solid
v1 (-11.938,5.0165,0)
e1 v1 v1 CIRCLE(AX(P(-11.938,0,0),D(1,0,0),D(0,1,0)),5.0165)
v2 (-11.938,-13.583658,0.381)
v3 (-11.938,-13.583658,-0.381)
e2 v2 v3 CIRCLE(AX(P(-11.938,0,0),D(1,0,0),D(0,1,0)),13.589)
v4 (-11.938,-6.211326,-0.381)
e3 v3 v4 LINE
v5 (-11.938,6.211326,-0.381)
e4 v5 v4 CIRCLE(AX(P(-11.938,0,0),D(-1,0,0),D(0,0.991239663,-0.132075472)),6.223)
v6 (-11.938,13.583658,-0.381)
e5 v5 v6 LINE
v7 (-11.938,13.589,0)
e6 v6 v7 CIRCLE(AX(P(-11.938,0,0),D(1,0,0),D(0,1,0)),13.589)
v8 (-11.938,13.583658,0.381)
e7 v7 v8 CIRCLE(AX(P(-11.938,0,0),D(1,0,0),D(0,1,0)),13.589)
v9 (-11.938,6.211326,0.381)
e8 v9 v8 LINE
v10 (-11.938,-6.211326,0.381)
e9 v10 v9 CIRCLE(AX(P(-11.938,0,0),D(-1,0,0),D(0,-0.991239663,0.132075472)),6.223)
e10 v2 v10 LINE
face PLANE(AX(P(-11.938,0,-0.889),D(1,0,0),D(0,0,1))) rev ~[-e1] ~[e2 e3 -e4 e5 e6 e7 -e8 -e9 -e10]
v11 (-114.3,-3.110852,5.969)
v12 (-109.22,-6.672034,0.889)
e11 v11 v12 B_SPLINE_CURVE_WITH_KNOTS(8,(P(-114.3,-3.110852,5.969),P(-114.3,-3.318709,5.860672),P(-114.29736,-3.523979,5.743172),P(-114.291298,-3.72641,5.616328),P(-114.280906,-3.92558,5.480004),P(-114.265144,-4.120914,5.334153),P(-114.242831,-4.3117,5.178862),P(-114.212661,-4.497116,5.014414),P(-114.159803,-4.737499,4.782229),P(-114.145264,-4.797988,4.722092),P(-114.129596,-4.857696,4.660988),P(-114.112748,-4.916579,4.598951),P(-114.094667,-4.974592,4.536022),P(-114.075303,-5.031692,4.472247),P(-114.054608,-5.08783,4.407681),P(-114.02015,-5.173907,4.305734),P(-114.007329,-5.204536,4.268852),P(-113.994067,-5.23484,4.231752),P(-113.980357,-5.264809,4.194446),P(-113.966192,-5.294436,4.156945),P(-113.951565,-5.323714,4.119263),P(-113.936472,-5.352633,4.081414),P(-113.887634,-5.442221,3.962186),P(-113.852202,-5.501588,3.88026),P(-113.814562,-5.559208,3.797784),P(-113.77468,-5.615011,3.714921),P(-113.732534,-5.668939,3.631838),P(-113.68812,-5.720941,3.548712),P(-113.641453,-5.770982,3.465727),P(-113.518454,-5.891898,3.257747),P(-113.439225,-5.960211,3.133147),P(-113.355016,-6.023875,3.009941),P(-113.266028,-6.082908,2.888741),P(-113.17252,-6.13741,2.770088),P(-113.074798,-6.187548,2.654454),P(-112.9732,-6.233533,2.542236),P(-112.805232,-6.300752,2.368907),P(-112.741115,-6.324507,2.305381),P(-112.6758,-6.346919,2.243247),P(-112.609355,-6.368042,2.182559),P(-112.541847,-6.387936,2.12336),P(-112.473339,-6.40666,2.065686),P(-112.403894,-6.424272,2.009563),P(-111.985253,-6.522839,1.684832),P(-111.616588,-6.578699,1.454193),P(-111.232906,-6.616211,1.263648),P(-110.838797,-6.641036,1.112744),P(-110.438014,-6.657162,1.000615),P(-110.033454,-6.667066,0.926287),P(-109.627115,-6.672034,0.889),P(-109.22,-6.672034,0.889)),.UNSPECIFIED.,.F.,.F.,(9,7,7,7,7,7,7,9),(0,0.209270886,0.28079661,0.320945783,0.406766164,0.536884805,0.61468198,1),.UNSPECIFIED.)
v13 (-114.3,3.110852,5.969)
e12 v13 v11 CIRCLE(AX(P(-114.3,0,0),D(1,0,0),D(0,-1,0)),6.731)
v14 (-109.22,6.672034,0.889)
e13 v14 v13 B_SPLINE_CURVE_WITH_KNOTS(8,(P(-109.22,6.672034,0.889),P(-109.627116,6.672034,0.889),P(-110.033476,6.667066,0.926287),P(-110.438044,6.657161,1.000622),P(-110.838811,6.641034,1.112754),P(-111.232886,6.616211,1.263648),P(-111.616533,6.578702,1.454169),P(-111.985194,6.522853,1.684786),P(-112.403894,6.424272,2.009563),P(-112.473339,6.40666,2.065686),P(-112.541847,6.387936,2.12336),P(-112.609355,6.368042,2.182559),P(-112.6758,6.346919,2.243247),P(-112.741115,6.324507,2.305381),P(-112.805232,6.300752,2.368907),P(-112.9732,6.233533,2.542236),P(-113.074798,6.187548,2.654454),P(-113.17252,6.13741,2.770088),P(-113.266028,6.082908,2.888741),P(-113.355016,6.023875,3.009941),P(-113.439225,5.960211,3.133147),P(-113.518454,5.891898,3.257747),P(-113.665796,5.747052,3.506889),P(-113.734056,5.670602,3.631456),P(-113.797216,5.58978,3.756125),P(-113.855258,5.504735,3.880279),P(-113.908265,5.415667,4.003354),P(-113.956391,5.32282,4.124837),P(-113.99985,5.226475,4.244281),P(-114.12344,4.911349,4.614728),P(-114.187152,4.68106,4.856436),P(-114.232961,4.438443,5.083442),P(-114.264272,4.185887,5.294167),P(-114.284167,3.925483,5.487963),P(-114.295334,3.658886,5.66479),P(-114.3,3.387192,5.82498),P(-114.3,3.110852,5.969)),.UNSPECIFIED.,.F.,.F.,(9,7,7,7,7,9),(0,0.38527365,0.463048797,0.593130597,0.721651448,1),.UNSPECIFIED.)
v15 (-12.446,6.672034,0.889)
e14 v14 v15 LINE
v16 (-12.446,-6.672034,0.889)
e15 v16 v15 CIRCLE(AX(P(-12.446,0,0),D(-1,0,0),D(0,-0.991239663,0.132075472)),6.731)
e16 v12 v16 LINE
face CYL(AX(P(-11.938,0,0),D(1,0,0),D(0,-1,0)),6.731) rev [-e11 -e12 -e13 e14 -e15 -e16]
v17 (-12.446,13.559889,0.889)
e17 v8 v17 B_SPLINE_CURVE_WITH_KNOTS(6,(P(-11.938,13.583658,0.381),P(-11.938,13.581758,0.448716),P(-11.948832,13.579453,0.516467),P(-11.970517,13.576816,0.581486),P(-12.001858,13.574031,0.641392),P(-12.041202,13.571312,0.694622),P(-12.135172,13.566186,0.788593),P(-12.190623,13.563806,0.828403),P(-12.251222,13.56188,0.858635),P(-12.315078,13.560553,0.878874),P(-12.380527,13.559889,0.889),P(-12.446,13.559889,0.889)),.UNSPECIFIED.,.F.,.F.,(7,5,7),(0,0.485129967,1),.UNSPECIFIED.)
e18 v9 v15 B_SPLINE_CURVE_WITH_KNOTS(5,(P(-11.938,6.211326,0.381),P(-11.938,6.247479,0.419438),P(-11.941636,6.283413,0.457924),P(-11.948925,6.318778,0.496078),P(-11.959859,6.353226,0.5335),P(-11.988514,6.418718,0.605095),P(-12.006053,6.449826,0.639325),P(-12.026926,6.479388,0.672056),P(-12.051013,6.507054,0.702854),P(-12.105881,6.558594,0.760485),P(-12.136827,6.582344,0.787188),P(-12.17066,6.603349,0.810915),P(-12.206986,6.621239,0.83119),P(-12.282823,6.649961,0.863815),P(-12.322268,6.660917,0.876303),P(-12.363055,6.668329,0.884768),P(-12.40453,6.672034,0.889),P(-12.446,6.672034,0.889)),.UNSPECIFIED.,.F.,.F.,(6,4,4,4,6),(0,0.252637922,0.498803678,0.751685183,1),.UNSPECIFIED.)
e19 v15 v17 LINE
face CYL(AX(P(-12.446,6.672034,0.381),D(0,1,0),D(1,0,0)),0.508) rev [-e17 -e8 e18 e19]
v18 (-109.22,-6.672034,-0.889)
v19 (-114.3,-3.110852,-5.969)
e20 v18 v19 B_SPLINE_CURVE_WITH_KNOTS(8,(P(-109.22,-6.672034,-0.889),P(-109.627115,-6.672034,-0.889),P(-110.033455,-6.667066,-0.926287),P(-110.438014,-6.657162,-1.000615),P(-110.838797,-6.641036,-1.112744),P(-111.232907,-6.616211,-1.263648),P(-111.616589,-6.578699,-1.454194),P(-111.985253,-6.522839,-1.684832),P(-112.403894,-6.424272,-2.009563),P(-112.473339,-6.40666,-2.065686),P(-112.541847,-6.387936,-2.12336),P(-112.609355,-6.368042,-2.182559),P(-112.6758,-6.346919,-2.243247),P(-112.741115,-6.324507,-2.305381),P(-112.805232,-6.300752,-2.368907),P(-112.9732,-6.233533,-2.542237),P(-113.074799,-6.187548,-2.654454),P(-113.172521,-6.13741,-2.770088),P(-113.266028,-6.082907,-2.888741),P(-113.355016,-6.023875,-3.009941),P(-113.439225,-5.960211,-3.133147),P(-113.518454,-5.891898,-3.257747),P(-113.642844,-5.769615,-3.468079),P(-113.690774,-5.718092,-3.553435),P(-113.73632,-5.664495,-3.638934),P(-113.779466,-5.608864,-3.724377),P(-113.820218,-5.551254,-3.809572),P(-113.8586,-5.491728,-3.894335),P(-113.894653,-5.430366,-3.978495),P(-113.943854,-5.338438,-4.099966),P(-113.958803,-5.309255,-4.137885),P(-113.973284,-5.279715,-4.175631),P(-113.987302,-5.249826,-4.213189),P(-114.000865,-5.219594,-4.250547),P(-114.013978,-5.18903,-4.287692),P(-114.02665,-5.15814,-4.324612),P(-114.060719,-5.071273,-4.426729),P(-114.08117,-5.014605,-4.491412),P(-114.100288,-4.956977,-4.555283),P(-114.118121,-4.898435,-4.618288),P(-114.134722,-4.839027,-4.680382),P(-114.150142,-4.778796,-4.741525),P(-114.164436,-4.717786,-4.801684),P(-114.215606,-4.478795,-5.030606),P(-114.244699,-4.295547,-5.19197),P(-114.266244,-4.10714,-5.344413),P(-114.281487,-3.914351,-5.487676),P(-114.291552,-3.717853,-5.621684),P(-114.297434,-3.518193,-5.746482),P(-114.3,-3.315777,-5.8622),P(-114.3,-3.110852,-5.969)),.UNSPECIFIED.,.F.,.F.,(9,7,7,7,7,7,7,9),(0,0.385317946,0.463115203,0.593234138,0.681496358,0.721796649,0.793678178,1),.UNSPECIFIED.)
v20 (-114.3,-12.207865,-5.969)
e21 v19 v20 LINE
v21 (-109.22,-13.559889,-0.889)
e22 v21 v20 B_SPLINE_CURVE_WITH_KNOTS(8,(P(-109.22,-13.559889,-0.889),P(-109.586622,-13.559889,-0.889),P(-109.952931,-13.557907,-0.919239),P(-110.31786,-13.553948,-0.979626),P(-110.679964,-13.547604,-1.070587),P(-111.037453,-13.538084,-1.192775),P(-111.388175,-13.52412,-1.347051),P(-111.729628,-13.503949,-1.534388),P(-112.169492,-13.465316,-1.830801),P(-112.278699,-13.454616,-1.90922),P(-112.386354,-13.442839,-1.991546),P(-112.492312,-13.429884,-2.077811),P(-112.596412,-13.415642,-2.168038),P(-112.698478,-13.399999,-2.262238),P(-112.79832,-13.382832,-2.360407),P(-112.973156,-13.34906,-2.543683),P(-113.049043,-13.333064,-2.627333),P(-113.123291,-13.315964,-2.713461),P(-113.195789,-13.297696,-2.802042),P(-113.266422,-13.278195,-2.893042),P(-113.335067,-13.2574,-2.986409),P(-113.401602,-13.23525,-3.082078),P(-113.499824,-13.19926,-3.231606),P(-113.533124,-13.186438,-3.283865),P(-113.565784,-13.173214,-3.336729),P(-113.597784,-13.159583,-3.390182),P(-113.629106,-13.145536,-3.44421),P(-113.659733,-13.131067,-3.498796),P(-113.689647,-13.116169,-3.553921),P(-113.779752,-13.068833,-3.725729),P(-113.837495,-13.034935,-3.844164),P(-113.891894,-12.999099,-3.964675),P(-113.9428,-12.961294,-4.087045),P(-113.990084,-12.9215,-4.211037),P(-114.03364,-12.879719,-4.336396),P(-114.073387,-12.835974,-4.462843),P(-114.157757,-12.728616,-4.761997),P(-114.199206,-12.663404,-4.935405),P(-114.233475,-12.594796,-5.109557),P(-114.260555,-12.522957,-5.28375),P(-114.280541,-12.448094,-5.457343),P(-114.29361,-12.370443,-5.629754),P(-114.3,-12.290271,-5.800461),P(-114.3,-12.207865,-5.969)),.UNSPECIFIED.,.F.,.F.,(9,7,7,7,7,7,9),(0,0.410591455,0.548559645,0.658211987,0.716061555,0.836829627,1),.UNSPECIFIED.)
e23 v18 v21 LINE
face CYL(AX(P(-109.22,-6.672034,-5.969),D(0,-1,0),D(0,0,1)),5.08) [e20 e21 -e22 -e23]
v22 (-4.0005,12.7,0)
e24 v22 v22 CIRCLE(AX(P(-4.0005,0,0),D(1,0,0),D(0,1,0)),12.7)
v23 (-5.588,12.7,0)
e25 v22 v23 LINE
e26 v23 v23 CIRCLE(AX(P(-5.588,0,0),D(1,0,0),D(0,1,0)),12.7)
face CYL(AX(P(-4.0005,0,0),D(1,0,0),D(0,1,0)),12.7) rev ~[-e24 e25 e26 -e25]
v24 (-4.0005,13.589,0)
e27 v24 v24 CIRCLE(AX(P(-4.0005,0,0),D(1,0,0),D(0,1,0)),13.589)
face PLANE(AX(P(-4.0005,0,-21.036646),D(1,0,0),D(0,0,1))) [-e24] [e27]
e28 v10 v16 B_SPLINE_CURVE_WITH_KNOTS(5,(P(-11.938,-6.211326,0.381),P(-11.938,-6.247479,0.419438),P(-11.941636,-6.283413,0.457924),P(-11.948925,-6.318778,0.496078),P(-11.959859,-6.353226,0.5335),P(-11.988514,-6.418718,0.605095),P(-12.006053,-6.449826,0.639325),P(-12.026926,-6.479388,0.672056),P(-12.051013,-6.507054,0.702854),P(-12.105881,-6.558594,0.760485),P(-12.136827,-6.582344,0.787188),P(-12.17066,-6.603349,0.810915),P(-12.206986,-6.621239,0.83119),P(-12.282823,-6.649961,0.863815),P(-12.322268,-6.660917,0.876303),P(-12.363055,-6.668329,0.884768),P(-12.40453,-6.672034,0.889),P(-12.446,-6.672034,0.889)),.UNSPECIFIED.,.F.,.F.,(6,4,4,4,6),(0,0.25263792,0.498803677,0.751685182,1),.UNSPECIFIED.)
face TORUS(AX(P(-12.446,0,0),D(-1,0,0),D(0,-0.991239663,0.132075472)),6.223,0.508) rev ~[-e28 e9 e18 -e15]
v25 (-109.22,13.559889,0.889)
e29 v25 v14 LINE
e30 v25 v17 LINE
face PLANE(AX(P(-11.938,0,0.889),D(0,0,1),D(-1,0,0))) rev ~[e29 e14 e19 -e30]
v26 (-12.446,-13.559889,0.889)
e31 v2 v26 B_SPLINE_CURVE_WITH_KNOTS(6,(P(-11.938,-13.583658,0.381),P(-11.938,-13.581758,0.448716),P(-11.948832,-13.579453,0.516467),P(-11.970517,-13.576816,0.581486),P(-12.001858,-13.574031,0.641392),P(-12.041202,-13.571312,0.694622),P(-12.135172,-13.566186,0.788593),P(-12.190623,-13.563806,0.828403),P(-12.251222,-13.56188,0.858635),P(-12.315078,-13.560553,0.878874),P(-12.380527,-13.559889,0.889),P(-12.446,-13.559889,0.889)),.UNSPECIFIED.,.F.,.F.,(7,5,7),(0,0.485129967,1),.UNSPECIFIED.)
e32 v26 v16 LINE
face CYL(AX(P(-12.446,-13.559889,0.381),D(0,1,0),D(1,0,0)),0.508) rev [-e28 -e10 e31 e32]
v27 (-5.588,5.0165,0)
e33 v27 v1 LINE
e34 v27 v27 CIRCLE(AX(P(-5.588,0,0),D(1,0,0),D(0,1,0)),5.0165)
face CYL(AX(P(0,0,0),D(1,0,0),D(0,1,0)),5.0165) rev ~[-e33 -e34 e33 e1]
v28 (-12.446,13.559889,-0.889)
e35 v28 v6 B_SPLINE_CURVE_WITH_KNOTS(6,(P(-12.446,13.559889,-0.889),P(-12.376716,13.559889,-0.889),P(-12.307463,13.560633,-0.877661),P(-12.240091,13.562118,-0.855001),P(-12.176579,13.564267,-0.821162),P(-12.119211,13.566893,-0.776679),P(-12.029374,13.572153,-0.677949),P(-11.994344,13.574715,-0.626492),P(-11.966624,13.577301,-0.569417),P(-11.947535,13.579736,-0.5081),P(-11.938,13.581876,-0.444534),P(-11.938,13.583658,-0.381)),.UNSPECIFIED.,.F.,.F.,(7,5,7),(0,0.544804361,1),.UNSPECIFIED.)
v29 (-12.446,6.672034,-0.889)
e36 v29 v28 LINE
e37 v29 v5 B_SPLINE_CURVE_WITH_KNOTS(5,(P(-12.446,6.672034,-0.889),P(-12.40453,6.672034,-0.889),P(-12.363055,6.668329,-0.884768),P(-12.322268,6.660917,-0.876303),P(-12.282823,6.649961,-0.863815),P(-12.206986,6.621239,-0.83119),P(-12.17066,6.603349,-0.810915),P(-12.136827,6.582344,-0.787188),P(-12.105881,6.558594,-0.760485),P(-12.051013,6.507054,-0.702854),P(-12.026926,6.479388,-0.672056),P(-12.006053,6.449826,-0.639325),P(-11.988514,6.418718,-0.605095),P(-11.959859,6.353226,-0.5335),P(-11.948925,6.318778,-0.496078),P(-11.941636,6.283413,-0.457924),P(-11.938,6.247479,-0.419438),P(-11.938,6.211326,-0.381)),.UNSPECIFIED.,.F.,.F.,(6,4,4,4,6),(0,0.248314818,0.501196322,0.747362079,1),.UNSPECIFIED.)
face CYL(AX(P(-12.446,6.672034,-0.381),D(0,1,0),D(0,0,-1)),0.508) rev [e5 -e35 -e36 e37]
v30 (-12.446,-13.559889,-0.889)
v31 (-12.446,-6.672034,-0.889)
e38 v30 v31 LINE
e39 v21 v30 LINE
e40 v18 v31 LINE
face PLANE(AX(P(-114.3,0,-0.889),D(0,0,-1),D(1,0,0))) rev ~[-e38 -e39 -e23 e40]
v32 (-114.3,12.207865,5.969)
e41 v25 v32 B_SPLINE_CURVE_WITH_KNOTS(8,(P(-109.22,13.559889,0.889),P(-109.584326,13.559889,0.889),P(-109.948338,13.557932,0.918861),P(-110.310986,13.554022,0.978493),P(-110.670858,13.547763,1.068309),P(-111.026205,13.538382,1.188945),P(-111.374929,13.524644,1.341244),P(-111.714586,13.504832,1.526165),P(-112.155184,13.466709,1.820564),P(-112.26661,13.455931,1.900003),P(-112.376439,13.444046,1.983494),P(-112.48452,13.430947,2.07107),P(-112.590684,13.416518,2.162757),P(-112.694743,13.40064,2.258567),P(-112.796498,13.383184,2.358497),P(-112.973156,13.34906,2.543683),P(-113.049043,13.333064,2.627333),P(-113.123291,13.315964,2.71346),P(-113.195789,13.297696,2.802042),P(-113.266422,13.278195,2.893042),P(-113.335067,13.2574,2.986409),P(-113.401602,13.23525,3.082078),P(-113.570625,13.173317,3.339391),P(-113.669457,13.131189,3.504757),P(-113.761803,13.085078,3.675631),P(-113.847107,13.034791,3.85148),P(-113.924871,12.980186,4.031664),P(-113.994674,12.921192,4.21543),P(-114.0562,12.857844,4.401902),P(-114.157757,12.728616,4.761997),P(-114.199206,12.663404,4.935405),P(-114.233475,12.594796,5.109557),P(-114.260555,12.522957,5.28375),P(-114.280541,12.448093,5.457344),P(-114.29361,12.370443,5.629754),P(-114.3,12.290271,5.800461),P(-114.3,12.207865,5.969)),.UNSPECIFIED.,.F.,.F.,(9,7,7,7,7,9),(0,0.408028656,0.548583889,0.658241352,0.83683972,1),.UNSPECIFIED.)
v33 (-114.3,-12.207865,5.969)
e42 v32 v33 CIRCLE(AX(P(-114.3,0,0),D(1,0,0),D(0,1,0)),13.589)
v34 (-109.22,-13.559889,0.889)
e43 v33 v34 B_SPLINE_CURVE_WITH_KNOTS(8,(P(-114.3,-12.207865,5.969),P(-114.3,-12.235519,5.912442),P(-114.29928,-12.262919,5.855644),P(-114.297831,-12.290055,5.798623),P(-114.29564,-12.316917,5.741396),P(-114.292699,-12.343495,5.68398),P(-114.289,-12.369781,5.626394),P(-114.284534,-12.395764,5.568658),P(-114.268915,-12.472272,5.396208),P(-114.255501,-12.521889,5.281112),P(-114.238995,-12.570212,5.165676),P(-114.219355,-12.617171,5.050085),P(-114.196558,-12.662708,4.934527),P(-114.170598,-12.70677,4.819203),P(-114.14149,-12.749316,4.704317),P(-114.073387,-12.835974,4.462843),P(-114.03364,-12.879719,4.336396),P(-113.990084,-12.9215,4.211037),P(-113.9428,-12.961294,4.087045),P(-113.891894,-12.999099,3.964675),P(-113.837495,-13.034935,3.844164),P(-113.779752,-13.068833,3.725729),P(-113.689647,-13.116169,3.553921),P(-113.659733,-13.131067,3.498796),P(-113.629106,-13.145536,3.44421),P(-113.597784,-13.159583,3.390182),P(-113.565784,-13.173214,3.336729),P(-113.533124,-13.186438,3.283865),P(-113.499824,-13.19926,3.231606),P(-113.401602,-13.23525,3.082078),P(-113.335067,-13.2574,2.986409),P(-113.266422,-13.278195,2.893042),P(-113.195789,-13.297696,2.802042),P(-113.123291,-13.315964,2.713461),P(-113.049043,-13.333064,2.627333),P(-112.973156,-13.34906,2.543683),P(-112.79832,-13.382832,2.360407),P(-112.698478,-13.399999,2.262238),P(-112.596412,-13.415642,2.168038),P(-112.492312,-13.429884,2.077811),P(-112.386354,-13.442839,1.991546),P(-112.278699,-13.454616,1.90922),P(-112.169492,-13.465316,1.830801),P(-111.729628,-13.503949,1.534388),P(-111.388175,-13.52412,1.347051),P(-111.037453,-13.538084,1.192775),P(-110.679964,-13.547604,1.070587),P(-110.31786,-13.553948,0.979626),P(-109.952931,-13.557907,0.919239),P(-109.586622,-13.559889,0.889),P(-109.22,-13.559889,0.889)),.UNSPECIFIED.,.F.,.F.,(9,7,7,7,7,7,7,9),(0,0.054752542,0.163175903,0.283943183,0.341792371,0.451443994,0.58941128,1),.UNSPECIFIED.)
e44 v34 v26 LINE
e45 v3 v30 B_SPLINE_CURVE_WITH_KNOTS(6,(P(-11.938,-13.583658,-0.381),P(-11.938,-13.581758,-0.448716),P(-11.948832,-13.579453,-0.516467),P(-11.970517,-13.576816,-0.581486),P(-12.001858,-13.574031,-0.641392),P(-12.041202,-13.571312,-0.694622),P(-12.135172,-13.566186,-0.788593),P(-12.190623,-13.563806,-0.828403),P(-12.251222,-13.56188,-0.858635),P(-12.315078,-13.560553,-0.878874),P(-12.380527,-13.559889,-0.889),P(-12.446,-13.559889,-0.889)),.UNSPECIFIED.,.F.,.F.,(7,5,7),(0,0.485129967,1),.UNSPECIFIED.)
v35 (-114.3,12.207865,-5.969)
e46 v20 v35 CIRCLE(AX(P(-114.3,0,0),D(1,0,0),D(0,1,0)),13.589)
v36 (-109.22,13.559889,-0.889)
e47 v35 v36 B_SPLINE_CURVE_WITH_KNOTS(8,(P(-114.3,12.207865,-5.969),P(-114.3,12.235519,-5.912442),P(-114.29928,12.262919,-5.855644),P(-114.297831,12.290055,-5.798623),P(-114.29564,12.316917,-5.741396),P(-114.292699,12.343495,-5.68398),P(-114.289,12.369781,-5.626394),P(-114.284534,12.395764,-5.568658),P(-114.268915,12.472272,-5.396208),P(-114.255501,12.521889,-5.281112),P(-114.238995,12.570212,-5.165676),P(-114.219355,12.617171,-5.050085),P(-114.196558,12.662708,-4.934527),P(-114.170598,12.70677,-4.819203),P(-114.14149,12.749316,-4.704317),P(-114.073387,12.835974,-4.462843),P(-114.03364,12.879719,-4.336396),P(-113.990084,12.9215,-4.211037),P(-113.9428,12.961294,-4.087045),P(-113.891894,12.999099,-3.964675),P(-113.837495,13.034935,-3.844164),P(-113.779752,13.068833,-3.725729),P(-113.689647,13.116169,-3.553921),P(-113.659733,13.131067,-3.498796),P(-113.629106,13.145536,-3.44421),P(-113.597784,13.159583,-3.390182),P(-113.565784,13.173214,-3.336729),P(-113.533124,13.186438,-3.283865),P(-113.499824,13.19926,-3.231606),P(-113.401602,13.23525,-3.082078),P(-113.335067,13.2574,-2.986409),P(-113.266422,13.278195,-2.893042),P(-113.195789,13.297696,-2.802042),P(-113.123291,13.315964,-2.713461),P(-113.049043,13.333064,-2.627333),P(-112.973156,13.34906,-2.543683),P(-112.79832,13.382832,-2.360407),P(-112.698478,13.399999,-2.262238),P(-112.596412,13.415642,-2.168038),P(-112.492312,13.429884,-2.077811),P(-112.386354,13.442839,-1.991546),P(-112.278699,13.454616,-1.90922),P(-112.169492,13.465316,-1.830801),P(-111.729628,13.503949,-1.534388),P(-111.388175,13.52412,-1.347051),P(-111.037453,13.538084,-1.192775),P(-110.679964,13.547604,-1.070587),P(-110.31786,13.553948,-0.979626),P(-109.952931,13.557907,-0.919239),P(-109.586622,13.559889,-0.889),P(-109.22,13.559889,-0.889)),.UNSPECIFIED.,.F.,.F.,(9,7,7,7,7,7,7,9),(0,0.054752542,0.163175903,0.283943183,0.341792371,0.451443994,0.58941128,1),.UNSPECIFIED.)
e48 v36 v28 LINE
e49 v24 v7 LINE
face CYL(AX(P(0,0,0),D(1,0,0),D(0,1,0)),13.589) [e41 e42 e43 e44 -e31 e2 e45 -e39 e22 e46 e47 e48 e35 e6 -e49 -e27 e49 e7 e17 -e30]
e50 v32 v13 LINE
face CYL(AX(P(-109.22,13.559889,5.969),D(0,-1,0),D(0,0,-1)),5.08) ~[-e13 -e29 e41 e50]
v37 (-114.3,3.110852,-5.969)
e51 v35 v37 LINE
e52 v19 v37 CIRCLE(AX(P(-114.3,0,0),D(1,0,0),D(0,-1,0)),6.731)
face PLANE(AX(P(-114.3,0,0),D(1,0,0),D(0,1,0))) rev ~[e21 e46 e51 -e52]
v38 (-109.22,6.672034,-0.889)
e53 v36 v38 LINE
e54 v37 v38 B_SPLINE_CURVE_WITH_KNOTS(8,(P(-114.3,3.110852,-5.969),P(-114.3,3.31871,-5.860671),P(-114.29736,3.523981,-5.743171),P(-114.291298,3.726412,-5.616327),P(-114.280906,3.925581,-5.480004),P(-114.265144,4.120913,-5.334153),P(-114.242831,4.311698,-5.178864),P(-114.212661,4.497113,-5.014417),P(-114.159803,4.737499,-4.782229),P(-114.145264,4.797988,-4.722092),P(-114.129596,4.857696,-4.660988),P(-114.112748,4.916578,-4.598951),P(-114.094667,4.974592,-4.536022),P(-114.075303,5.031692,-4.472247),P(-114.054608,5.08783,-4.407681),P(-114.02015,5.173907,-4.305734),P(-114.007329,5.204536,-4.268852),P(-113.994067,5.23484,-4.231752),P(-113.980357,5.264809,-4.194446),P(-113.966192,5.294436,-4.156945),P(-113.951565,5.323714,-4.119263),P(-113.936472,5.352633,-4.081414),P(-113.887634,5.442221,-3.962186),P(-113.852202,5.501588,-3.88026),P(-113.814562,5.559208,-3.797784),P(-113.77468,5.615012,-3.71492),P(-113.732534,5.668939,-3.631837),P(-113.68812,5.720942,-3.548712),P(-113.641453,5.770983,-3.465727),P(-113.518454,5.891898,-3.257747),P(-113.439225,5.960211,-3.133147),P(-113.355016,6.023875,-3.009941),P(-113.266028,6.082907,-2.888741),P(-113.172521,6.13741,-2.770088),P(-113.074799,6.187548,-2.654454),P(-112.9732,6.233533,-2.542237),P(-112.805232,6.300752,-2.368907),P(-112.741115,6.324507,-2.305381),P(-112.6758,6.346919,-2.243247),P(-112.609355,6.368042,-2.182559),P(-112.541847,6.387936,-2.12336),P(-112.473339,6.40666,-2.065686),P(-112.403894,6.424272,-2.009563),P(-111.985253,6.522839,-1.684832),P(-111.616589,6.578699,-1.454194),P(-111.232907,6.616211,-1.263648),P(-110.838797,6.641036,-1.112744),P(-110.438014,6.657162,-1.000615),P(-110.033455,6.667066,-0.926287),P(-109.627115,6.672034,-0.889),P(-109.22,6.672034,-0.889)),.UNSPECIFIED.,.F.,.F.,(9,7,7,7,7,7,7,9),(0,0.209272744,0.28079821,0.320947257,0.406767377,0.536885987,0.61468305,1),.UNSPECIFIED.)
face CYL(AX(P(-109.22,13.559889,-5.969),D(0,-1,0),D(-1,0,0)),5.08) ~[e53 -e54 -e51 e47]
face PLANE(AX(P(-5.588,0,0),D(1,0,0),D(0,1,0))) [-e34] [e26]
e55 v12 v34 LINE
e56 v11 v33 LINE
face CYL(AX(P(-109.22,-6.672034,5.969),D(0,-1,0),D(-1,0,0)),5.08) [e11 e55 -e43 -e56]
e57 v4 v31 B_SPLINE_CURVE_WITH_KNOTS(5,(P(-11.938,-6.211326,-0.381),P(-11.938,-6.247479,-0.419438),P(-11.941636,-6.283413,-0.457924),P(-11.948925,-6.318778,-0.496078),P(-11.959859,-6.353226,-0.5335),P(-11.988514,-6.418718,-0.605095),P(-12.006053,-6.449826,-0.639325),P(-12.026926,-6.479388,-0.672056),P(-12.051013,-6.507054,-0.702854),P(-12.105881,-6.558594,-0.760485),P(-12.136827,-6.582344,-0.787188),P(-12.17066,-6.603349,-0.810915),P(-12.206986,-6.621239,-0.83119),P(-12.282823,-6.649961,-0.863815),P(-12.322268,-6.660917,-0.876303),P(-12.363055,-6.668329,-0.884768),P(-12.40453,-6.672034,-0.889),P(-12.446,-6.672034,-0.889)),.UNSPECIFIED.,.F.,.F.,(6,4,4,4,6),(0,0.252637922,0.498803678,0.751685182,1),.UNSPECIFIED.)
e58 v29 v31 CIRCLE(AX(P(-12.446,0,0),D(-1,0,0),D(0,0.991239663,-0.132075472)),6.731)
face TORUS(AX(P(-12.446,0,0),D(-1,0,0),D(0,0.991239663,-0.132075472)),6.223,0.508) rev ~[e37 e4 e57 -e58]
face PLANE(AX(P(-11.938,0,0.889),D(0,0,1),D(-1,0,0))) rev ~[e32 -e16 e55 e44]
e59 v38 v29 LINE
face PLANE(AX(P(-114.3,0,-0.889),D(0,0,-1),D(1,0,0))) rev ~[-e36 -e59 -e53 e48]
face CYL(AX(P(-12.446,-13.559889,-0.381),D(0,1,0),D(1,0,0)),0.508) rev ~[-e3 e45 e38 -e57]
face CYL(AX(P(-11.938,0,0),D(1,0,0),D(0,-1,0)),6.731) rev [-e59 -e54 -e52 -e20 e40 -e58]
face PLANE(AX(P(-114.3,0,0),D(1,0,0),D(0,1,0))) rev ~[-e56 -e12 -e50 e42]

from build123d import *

# Parameters (mm, degrees)
F0_R      = 13.589
F1_DEPTH  = 114.3
F3_DEPTH  = 50.546
F4_R      = 5.0165
F5_DEPTH  = 152.4
F6_R      = 6.731
F7_DEPTH  = 106.934
F8_R      = 5.08
F9_R      = 0.508
F10_W     = 8.001
F10_H     = 42.073292
F11_DEPTH = 17.8308
F12_R     = 12.7
F13_DEPTH = 1.5875


with BuildPart() as f1:
    # F0 (on Right) → F1 (new body)
    with BuildSketch(Plane.YZ):
        Circle(F0_R)
    extrude(amount=-F1_DEPTH)

    # F2 (on Front) → F3 (cut, symmetric)
    with BuildSketch(Plane.XZ):
        Polygon((-11.938, 0.889), (-114.3, 0.889), (-114.3, -0.889), (-11.938, -0.889), (-11.938, 0), align=None)
    extrude(amount=F3_DEPTH, both=True, mode=Mode.SUBTRACT)

    # F4 (on face) → F5 (cut)
    with BuildSketch(Plane.YZ):
        Circle(F4_R)
    extrude(amount=-F5_DEPTH, mode=Mode.SUBTRACT)

    # F6 (on face) → F7 (cut)
    with BuildSketch(Plane(origin=(-11.938, 0, 0), x_dir=(0, -1, 0), z_dir=(-1, 0, 0))):
        Circle(F6_R)
    extrude(amount=F7_DEPTH, mode=Mode.SUBTRACT)

    # F8
    f8_edges = [f1.edges().sort_by_distance(p)[0] for p in [
        (-114.3, 10.115962, 0.889),
        (-114.3, -10.115962, 0.889),
        (-114.3, -10.115962, -0.889),
        (-114.3, 10.115962, -0.889),
    ]]
    fillet(f8_edges, radius=F8_R)

    # F9
    f9_edges = [f1.edges().sort_by_distance(p)[0] for p in [
        (-11.938, 10.115962, 0.889),
        (-11.938, -10.115962, 0.889),
        (-11.938, 10.115962, -0.889),
        (-11.938, -10.115962, -0.889),
        (-11.938, 0, 6.731),
        (-11.938, 0, -6.731),
    ]]
    fillet(f9_edges, radius=F9_R)

    # F10 (on Front) → F11 (cut, symmetric)
    with BuildSketch(Plane.XZ):
        Rectangle(F10_W, F10_H)
    extrude(amount=F11_DEPTH, both=True, mode=Mode.SUBTRACT)

    # F12 (on face) → F13 (cut)
    with BuildSketch(Plane.YZ.offset(-4.0005)):
        Circle(F12_R)
    extrude(amount=-F13_DEPTH, mode=Mode.SUBTRACT)


solid = f1.part
